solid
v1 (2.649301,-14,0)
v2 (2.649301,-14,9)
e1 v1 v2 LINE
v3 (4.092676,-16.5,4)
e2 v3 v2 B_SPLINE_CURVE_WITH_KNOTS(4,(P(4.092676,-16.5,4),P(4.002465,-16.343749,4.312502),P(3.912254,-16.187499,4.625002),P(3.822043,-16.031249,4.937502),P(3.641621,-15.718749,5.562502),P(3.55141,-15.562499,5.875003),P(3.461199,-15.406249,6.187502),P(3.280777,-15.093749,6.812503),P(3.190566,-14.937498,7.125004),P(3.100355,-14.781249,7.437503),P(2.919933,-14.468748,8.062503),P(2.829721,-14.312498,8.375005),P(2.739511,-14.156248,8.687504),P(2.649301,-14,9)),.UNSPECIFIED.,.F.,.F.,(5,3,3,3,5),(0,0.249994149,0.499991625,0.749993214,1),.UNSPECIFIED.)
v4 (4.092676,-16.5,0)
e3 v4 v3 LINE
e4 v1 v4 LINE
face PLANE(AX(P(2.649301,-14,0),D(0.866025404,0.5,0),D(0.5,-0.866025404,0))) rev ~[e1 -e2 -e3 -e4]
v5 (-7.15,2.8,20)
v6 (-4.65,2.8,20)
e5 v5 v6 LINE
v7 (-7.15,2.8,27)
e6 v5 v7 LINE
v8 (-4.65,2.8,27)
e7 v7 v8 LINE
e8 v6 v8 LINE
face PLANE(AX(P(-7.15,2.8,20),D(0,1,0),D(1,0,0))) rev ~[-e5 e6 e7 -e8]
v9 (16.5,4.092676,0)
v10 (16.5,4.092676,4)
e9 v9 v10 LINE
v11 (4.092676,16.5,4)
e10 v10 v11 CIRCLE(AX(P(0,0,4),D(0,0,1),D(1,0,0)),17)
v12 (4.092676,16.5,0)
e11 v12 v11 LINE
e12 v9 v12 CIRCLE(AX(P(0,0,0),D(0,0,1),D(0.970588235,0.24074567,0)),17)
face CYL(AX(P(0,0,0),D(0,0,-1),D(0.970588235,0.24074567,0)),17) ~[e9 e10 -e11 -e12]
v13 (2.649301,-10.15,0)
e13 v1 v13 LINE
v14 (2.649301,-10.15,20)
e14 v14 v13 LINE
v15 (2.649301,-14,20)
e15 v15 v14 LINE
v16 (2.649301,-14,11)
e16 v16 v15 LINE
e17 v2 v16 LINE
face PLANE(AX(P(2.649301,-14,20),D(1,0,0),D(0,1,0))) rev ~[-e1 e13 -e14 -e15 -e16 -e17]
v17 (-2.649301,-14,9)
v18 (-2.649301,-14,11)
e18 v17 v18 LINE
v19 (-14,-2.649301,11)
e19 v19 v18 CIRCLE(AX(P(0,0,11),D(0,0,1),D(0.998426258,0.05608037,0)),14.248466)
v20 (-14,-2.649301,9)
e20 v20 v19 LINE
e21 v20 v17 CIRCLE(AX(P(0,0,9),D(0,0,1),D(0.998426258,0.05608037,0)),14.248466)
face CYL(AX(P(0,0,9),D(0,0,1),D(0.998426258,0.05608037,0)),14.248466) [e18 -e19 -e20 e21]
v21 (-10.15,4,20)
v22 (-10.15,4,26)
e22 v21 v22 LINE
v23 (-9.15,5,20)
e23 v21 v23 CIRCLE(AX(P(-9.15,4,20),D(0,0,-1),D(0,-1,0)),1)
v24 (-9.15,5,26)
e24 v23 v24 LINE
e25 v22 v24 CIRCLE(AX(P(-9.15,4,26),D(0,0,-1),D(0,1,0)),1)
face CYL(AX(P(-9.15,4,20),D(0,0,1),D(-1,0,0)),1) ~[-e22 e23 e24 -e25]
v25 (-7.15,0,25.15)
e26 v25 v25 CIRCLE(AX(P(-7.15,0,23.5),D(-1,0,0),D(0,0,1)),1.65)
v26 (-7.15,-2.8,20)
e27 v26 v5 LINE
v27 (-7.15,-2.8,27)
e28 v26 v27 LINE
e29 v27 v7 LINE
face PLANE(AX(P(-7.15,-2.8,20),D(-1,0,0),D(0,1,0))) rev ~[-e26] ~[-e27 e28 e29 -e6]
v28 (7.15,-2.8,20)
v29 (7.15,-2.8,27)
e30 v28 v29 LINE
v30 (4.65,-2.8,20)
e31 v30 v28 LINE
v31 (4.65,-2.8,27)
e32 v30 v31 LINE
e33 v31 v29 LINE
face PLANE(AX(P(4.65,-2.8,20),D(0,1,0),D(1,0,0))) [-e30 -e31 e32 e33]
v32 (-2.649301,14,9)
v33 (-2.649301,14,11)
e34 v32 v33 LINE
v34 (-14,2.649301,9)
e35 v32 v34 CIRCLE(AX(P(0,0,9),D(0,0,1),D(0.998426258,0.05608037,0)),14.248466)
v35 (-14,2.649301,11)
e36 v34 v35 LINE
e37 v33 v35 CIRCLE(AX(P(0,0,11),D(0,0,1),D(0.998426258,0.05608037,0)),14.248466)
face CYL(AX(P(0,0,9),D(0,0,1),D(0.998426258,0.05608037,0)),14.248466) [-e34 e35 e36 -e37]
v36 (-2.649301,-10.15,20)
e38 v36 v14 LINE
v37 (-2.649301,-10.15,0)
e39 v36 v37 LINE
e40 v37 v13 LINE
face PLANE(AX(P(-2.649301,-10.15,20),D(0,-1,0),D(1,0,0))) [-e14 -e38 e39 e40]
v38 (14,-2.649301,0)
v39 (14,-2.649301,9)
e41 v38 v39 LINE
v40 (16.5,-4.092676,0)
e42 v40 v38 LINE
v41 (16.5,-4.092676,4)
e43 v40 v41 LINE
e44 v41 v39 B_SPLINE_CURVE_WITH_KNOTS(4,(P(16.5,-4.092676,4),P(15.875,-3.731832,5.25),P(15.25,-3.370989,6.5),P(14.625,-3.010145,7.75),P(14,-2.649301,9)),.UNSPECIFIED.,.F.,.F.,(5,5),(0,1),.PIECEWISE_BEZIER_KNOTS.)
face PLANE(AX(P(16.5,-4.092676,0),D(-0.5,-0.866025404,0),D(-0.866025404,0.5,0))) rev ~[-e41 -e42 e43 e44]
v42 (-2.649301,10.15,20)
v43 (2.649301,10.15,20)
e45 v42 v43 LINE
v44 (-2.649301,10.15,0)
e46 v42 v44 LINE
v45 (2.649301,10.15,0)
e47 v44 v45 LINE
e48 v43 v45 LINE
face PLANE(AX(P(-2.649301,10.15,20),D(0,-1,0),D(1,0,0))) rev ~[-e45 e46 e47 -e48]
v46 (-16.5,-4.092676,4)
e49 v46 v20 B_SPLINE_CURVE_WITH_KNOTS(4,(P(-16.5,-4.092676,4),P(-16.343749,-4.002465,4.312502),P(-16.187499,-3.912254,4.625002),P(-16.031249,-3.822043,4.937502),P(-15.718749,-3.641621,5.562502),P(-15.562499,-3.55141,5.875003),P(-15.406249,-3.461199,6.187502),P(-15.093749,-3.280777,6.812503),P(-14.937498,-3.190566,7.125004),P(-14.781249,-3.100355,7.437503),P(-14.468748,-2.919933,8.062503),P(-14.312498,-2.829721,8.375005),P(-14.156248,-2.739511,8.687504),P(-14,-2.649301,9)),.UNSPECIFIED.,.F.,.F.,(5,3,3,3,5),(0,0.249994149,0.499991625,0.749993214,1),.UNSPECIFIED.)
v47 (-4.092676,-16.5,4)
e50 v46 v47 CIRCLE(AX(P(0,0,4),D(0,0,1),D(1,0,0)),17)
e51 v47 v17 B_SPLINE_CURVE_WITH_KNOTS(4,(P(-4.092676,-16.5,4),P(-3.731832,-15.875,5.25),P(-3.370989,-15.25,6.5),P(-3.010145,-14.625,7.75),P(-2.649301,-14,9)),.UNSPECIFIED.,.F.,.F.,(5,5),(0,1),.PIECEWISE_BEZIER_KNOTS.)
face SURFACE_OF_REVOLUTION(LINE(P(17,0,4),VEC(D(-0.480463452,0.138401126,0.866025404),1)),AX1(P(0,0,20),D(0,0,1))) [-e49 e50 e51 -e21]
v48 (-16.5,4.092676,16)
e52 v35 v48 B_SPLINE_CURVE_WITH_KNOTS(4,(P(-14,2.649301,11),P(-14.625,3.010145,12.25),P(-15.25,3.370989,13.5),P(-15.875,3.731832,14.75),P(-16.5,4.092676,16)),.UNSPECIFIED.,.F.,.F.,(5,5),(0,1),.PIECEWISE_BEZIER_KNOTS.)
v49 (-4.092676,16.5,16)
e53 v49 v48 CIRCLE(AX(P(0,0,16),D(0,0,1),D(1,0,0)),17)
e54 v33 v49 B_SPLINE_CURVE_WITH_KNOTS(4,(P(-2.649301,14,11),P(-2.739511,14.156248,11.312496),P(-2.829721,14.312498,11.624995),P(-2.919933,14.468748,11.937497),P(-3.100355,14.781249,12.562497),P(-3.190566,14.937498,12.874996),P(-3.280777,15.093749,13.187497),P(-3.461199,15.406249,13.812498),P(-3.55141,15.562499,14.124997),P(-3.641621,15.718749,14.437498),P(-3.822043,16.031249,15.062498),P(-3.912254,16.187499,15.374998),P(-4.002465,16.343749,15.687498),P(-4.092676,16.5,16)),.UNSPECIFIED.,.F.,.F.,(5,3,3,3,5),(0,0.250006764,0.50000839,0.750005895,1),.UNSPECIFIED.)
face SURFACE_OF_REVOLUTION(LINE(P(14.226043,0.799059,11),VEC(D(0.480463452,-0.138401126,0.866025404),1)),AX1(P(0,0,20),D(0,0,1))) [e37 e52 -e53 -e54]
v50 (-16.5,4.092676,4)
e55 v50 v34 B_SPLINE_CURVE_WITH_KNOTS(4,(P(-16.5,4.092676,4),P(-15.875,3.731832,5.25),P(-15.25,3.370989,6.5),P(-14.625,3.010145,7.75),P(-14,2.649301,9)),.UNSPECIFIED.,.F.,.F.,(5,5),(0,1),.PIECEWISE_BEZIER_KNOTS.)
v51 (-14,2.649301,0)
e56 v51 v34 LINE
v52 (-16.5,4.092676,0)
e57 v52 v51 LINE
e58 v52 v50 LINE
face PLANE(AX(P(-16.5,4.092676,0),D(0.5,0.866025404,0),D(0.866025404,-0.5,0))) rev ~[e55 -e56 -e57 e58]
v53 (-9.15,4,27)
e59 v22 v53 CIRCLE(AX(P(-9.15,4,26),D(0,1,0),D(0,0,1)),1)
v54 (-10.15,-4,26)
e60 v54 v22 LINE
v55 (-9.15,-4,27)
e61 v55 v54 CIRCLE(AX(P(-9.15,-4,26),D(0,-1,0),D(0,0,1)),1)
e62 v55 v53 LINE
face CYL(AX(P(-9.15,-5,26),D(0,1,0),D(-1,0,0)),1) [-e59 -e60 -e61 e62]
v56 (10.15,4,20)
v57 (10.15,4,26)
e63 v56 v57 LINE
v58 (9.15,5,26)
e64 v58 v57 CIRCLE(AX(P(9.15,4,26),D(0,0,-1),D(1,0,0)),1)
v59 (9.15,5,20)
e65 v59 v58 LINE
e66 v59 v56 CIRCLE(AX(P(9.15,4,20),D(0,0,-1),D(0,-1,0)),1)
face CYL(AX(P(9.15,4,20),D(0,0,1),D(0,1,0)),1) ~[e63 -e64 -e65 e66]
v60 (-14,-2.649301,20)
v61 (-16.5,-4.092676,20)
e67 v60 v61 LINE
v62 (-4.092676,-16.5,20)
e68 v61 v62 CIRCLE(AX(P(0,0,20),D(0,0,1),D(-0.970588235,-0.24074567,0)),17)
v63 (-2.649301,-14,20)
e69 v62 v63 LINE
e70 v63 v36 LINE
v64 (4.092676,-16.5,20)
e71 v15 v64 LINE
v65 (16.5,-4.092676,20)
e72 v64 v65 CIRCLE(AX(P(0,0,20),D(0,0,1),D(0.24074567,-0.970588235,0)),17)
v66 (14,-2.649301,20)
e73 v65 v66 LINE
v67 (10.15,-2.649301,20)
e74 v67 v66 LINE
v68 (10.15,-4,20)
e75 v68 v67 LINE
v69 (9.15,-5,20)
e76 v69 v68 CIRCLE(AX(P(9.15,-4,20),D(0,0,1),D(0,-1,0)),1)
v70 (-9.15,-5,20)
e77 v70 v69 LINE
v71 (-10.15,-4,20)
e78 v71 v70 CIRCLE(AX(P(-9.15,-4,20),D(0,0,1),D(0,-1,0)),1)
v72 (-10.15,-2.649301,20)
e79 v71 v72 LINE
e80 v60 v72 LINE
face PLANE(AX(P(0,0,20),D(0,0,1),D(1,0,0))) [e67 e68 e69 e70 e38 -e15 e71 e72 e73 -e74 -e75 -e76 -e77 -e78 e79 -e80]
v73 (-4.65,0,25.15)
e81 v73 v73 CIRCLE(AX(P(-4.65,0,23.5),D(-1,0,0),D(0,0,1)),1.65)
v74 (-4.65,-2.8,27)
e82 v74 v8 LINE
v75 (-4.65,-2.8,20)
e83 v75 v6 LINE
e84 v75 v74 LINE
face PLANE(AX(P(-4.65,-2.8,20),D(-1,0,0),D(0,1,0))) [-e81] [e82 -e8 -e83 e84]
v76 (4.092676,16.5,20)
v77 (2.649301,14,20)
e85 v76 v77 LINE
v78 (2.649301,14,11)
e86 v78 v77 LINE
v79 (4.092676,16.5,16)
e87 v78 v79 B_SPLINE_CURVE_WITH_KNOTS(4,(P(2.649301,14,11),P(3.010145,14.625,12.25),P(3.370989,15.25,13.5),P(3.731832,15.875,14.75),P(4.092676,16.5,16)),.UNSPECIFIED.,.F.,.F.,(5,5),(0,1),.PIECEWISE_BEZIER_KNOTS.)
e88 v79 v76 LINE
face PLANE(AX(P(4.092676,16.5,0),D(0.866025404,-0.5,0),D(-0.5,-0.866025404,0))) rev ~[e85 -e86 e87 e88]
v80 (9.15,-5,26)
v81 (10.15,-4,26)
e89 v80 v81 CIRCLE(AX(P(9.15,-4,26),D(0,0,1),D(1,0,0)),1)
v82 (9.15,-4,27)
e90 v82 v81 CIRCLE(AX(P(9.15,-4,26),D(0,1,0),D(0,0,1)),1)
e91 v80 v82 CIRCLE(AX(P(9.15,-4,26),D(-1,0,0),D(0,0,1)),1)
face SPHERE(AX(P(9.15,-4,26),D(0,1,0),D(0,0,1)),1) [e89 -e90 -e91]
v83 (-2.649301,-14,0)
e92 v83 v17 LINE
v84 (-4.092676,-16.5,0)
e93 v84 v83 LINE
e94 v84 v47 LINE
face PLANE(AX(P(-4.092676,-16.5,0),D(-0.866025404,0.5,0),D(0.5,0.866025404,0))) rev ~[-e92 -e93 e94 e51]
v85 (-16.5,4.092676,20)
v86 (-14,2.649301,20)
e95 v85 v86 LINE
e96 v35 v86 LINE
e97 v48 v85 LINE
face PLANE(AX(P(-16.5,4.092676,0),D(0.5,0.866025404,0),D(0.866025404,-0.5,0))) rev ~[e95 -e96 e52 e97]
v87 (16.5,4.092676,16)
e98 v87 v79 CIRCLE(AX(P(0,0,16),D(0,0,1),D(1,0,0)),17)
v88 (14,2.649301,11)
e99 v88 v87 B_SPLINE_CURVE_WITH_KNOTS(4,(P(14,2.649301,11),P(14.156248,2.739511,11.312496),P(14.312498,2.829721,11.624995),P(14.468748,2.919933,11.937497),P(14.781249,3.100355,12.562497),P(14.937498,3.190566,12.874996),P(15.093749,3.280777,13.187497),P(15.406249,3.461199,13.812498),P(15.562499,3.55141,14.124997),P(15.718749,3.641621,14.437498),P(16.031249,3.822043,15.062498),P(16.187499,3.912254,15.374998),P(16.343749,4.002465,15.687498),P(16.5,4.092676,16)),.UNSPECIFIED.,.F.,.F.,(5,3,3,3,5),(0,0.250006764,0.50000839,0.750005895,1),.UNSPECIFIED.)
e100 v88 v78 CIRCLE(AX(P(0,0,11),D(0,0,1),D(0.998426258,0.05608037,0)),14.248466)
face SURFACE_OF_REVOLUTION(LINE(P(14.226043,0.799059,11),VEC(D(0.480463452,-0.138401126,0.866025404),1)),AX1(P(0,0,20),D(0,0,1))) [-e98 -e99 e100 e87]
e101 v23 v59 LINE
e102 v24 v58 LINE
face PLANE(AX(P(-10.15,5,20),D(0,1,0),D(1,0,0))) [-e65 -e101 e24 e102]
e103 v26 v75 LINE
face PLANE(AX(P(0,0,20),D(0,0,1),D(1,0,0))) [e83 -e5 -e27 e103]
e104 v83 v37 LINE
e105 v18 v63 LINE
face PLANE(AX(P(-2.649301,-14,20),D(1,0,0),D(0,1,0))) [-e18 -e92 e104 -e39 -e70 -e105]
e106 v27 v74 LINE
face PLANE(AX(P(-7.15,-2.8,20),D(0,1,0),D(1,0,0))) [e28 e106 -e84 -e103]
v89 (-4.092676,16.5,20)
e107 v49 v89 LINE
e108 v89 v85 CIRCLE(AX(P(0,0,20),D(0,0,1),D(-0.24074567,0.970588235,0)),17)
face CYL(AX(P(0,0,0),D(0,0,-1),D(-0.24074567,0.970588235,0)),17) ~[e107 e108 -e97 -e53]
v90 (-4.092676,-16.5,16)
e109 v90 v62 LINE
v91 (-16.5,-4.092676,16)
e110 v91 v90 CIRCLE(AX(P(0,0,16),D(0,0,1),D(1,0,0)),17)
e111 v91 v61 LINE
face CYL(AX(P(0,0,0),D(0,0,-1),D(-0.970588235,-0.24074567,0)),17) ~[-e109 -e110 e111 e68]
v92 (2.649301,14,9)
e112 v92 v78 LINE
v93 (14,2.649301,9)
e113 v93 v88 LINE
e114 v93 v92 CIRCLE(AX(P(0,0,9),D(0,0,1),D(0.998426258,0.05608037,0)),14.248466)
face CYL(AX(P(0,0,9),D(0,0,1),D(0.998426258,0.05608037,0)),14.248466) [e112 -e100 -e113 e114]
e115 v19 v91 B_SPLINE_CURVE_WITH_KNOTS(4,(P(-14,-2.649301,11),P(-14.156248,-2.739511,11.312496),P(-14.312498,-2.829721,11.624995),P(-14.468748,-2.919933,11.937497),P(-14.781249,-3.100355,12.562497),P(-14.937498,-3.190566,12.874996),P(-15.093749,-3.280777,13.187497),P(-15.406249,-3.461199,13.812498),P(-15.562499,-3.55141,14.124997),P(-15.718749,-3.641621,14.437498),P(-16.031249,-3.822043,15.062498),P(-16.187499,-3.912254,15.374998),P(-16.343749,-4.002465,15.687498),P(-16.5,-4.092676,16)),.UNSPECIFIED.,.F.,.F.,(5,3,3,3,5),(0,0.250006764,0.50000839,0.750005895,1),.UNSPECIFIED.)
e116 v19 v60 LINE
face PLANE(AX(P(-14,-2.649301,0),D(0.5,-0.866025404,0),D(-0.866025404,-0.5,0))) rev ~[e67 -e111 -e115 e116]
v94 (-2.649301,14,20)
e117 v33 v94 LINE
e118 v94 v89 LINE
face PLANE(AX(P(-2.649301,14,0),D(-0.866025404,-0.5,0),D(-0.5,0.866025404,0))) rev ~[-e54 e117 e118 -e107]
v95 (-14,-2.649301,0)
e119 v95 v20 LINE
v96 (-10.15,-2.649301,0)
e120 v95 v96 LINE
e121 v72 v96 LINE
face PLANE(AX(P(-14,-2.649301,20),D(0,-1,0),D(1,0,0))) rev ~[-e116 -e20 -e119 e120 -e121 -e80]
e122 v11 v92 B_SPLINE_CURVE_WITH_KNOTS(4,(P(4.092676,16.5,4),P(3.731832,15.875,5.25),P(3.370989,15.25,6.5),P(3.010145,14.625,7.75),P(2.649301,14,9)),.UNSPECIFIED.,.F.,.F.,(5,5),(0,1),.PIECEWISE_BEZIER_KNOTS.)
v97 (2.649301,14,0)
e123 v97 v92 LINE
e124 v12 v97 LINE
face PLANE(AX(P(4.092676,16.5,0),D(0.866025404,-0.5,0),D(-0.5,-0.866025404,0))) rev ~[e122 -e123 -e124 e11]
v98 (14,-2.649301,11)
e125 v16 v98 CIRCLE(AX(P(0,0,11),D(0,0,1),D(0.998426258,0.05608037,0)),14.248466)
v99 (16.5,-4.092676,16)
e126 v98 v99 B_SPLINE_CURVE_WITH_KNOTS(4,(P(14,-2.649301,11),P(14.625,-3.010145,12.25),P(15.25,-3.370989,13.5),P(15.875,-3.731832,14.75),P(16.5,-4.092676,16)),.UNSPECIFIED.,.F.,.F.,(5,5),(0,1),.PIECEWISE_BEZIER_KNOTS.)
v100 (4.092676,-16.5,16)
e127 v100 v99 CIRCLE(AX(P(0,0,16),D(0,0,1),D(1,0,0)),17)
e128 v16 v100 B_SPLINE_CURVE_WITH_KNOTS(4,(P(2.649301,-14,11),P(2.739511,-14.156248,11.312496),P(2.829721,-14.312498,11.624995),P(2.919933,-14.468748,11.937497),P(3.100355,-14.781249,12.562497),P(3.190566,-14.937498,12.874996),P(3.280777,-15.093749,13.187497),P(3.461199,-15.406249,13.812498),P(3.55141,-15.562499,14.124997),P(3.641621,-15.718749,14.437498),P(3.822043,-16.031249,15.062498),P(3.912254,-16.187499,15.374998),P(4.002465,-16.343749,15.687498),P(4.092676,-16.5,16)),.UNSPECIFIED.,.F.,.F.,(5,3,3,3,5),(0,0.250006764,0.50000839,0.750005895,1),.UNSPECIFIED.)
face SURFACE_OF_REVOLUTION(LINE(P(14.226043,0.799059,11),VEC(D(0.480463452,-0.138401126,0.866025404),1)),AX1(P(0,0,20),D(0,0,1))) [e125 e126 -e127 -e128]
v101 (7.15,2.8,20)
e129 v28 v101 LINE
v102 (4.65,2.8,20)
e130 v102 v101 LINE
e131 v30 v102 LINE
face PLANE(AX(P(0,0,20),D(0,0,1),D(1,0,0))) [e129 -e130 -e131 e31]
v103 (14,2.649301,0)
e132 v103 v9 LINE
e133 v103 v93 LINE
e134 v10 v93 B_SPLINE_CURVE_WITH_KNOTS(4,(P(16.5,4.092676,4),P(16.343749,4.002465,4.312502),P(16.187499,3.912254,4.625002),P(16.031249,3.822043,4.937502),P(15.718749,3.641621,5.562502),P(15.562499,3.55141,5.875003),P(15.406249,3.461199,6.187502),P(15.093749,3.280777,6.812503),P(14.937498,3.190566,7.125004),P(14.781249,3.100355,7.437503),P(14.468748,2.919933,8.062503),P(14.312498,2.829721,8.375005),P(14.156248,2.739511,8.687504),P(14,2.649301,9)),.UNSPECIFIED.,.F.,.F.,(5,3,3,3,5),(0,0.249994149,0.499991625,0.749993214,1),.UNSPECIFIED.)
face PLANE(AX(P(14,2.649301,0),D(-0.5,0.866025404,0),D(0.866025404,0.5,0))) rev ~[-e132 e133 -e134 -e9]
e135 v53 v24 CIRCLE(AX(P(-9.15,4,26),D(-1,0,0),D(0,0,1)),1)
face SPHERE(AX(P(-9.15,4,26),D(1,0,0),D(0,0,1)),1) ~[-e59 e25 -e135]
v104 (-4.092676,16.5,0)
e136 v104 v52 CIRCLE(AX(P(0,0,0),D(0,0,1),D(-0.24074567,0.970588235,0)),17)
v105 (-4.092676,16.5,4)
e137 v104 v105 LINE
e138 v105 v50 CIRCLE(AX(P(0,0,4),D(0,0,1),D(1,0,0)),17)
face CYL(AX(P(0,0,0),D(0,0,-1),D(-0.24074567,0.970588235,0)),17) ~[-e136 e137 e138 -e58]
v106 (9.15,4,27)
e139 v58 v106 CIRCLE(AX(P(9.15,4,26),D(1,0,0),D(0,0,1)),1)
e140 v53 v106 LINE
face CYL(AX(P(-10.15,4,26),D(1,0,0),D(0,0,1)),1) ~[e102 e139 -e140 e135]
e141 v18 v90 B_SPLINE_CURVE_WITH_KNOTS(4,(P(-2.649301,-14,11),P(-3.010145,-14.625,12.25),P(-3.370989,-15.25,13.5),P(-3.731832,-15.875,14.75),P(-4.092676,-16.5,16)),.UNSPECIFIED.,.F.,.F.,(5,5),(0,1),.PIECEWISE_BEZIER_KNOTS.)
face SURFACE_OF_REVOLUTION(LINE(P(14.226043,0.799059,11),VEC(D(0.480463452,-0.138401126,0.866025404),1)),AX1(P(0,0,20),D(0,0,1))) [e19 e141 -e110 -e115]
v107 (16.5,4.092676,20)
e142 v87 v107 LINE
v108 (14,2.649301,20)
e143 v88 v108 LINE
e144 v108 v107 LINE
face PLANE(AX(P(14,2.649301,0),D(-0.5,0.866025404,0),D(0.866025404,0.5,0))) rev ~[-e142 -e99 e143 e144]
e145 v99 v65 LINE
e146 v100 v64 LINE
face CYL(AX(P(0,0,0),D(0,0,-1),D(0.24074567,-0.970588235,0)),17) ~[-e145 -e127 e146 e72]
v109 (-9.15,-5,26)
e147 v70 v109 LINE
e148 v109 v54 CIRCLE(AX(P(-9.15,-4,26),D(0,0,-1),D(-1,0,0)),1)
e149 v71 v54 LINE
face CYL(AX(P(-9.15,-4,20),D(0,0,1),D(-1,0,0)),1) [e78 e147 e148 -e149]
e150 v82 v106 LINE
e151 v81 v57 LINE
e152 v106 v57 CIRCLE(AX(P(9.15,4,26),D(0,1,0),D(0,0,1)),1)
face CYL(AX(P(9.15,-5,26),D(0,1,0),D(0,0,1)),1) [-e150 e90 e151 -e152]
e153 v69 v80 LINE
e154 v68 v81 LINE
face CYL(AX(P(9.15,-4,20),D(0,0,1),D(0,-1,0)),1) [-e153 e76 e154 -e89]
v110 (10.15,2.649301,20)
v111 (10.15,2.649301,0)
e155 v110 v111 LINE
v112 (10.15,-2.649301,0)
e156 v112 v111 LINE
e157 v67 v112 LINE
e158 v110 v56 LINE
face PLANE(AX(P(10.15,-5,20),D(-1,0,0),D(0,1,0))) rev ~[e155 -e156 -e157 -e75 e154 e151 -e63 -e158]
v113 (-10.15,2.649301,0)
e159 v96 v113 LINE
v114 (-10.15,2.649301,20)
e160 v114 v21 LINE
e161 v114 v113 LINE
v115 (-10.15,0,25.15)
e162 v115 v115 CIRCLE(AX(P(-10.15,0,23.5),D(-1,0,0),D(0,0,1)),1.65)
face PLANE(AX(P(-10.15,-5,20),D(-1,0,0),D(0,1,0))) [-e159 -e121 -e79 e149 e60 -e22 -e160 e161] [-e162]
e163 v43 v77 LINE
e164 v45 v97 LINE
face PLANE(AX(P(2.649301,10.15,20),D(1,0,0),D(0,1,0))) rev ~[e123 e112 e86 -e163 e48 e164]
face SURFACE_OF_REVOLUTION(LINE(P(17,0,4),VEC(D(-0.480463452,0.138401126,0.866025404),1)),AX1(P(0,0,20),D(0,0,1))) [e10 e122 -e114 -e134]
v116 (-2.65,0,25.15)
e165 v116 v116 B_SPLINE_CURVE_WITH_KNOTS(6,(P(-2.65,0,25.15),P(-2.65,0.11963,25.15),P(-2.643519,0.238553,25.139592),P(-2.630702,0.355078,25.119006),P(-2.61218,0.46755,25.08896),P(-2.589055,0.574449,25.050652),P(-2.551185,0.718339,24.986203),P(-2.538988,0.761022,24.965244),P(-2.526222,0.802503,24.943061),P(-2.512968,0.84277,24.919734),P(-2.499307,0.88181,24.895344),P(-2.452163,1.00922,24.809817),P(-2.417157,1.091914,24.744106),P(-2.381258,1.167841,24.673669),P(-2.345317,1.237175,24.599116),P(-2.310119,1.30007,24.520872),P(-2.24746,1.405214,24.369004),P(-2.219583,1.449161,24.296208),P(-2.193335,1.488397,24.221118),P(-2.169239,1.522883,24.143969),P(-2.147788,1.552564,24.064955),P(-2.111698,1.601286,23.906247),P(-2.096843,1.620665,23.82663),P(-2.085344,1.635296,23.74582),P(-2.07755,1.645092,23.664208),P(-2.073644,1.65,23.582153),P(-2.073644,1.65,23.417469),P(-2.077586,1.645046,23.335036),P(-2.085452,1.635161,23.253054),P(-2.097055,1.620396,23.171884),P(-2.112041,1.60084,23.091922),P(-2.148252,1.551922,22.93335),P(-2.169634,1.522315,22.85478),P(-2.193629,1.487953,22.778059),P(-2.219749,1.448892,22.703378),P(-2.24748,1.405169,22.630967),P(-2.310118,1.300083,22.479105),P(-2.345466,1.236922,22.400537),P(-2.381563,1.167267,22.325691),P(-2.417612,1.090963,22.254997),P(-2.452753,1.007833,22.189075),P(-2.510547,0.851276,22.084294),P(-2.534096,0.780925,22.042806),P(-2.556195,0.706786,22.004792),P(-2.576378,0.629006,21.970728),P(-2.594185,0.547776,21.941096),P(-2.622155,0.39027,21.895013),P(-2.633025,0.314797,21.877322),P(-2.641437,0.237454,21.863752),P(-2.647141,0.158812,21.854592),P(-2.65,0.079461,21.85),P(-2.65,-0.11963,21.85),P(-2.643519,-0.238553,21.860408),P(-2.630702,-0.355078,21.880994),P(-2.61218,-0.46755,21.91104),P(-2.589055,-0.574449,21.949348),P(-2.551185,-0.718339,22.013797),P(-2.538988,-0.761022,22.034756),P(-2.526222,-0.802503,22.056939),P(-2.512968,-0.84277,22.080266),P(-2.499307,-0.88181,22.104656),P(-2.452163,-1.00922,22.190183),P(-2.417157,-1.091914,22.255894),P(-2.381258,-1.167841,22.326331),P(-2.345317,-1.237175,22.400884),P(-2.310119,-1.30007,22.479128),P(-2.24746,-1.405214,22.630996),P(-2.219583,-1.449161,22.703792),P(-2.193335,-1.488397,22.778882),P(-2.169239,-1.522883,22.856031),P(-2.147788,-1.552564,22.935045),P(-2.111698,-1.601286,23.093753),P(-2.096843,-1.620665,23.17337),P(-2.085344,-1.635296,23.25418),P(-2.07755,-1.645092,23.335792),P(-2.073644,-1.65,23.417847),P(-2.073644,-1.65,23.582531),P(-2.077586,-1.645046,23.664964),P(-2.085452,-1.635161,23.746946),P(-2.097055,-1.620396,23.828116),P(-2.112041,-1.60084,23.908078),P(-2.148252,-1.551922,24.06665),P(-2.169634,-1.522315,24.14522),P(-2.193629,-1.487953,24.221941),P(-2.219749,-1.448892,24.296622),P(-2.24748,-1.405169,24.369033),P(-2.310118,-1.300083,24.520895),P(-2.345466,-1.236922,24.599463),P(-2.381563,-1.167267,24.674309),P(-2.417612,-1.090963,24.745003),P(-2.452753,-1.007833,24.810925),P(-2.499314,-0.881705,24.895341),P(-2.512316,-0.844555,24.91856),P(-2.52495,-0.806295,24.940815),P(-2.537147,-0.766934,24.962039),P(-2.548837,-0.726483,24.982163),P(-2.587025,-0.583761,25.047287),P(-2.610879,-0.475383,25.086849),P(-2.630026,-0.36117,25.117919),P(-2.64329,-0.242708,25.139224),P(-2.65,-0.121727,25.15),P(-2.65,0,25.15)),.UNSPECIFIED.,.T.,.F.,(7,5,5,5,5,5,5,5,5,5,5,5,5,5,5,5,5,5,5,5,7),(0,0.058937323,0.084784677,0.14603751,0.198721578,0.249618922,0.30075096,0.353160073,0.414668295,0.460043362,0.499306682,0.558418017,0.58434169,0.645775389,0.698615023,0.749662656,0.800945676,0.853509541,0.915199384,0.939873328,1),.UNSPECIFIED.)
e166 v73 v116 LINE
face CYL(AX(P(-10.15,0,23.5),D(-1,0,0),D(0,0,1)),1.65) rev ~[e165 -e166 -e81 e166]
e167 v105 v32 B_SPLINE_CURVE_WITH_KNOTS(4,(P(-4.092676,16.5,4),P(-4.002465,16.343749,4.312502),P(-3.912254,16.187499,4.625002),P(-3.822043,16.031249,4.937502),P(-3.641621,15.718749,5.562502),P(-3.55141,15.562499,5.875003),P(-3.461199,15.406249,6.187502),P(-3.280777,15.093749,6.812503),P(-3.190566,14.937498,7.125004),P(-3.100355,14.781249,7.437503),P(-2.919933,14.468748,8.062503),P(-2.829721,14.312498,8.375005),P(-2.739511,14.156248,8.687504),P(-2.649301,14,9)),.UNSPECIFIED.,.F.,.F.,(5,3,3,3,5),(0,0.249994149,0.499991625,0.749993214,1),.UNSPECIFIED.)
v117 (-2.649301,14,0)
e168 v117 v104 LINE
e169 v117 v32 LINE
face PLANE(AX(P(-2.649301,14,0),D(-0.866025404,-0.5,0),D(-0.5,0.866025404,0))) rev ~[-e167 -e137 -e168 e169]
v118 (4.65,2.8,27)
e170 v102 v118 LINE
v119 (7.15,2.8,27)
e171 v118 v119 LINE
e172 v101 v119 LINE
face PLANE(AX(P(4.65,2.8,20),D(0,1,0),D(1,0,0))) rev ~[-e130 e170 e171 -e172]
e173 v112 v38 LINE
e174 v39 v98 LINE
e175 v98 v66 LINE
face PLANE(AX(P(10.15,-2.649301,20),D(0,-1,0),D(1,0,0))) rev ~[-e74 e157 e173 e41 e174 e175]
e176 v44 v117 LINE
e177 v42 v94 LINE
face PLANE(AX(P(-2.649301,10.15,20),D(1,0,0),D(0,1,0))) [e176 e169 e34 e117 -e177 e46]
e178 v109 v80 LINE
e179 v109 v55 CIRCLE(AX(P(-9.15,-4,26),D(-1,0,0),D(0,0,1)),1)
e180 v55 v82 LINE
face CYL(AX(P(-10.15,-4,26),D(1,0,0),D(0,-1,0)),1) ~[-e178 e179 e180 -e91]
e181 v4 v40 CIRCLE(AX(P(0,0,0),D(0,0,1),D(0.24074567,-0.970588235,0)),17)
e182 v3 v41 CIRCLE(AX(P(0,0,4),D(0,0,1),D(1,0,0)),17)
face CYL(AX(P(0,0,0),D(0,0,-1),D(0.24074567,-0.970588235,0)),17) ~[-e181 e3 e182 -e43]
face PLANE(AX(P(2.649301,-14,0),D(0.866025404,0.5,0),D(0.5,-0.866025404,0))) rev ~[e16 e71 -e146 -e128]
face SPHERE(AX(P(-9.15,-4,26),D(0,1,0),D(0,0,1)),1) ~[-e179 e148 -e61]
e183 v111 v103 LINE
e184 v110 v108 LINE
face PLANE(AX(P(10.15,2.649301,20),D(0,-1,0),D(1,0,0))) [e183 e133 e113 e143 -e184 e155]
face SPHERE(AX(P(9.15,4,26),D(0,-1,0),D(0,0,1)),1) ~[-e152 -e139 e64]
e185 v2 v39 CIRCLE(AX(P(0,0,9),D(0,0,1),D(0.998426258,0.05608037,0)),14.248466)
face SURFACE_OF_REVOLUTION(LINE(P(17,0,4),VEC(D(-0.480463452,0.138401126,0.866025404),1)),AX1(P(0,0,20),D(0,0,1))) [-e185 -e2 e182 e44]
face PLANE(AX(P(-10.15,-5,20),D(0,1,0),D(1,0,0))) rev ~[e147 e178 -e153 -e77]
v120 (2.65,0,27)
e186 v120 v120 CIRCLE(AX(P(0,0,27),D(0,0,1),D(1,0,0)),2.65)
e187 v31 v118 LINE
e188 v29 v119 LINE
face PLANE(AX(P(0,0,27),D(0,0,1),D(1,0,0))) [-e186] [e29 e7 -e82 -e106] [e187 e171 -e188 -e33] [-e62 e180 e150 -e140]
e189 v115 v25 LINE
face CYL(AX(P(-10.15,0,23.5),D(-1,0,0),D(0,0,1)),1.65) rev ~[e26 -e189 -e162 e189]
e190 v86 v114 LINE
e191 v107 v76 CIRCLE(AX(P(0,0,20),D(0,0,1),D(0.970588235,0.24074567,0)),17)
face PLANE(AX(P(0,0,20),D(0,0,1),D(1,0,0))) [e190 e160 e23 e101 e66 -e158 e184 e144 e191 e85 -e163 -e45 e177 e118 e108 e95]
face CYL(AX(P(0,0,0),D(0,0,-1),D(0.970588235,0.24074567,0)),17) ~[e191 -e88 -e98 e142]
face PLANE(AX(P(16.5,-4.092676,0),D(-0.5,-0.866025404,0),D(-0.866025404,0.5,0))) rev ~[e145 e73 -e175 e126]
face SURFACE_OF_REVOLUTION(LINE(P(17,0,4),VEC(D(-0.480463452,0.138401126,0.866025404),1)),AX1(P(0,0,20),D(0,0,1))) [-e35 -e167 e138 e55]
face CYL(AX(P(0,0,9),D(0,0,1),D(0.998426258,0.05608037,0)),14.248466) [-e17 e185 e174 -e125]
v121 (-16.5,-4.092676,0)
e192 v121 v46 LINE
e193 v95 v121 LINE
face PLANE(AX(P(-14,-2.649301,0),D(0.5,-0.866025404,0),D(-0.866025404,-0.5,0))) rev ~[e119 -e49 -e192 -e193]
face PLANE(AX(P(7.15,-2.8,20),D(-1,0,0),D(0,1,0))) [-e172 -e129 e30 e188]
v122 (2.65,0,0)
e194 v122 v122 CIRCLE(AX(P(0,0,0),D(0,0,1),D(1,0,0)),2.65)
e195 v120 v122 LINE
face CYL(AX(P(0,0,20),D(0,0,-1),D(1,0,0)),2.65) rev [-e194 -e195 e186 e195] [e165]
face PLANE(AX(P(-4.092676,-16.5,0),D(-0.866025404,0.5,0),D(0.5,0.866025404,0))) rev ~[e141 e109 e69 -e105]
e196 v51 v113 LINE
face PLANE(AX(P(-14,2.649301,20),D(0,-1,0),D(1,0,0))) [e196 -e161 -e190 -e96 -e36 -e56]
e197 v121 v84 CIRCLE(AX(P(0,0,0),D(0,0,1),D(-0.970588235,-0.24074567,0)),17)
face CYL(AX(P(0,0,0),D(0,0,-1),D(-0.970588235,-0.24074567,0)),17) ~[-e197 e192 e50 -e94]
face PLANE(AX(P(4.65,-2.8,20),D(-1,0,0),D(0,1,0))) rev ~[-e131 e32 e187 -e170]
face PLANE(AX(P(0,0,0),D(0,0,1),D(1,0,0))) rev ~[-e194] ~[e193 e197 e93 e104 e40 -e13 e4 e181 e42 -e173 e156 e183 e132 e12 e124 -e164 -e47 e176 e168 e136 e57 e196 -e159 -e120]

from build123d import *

# Parameters (mm, degrees)
SKETCH1_R           = 2.65
BOSS_EXTRUDE1_DEPTH = 20
SKETCH2_W           = 20.3
SKETCH2_H           = 10
SKETCH2_R           = 2.65
SKETCH2_W_2         = 2.5
SKETCH2_H_2         = 5.6
BOSS_EXTRUDE2_DEPTH = 7
SKETCH3_R           = 1.65
CUT_EXTRUDE5_DEPTH  = 10
FILLET1_R           = 1
SKETCH7_W           = 3.85
SKETCH7_H           = 5.298601426
SKETCH7_W_2         = 5.298601426
SKETCH7_H_2         = 3.85
CUT_EXTRUDE6_DEPTH  = 20


with BuildPart() as part:
    # Sketch1 → Boss-Extrude1 (new body)
    with BuildSketch(Plane.XY):
        with BuildLine():
            Line((4.092676386, 16.5), (2.649300713, 14))
            Line((2.649300713, 14), (-2.649300713, 14))
            Line((-2.649300713, 14), (-4.092676386, 16.5))
            ThreePointArc((-4.092676386, 16.5), (-12.02081528, 12.02081528), (-16.5, 4.092676386))
            Line((-16.5, 4.092676386), (-14, 2.649300713))
            Line((-14, 2.649300713), (-14, -2.649300713))
            Line((-14, -2.649300713), (-16.5, -4.092676386))
            ThreePointArc((-16.5, -4.092676386), (-12.02081528, -12.02081528), (-4.092676386, -16.5))
            Line((-4.092676386, -16.5), (-2.649300713, -14))
            Line((-2.649300713, -14), (2.649300713, -14))
            Line((2.649300713, -14), (4.092676386, -16.5))
            ThreePointArc((4.092676386, -16.5), (12.02081528, -12.02081528), (16.5, -4.092676386))
            Line((16.5, -4.092676386), (14, -2.649300713))
            Line((14, -2.649300713), (14, 2.649300713))
            Line((14, 2.649300713), (16.5, 4.092676386))
            ThreePointArc((16.5, 4.092676386), (12.02081528, 12.02081528), (4.092676386, 16.5))
        make_face()
        Circle(SKETCH1_R, mode=Mode.SUBTRACT)
    extrude(amount=BOSS_EXTRUDE1_DEPTH)

    # Sketch2 → Boss-Extrude2 (add)
    with BuildSketch(Plane.XY.offset(20)):
        Rectangle(SKETCH2_W, SKETCH2_H)
        Circle(SKETCH2_R, mode=Mode.SUBTRACT)
        with Locations((-5.9, 0)):
            Rectangle(SKETCH2_W_2, SKETCH2_H_2, mode=Mode.SUBTRACT)
        with Locations((5.9, 0)):
            Rectangle(SKETCH2_W_2, SKETCH2_H_2, mode=Mode.SUBTRACT)
    extrude(amount=BOSS_EXTRUDE2_DEPTH)

    # Sketch3 → Cut-Extrude5 (cut)
    with BuildSketch(Plane.ZY.offset(10.15)):
        with Locations((23.5, 0)):
            Circle(SKETCH3_R)
    extrude(amount=-CUT_EXTRUDE5_DEPTH, mode=Mode.SUBTRACT)

    # Fillet1
    fillet1_edges = [part.edges().sort_by_distance(p)[0] for p in [
        (10.15, 0, 27),
        (0, 5, 27),
        (-10.15, 0, 27),
        (0, -5, 27),
        (10.15, -5, 23.5),
        (10.15, 5, 23.5),
        (-10.15, 5, 23.5),
        (-10.15, -5, 23.5),
    ]]
    fillet(fillet1_edges, radius=FILLET1_R)

    # Cut-Sweep2: sweep along a path in Sketch6
    with BuildLine(Plane.XY.offset(20)) as cut_sweep2_path:
        CenterArc((0, 0), 17, 0, 360)
    # Sketch5 → Cut-Sweep2 (sweep, cut)
    with BuildSketch(Plane(origin=(-4.075202292, 2.35281914, 0), x_dir=(0, 0, 1), z_dir=(-0.8660254037844398, 0.499999999999998, 0))):
        Polygon((9, 13.449006009), (11, 13.449006009), (16, 16.335757355), (4, 16.335757355), align=None)
    sweep(path=cut_sweep2_path.line, mode=Mode.SUBTRACT)

    # Sketch7 → Cut-Extrude6 (cut)
    with BuildSketch(Plane.XY.offset(20)):
        with Locations((-12.075, 0)):
            Rectangle(SKETCH7_W, SKETCH7_H)
        with Locations((0, 12.075)):
            Rectangle(SKETCH7_W_2, SKETCH7_H_2)
        with Locations((12.075, 0)):
            Rectangle(SKETCH7_W, SKETCH7_H)
        with Locations((0, -12.075)):
            Rectangle(SKETCH7_W_2, SKETCH7_H_2)
    extrude(amount=-CUT_EXTRUDE6_DEPTH, mode=Mode.SUBTRACT)


solid = part.part
